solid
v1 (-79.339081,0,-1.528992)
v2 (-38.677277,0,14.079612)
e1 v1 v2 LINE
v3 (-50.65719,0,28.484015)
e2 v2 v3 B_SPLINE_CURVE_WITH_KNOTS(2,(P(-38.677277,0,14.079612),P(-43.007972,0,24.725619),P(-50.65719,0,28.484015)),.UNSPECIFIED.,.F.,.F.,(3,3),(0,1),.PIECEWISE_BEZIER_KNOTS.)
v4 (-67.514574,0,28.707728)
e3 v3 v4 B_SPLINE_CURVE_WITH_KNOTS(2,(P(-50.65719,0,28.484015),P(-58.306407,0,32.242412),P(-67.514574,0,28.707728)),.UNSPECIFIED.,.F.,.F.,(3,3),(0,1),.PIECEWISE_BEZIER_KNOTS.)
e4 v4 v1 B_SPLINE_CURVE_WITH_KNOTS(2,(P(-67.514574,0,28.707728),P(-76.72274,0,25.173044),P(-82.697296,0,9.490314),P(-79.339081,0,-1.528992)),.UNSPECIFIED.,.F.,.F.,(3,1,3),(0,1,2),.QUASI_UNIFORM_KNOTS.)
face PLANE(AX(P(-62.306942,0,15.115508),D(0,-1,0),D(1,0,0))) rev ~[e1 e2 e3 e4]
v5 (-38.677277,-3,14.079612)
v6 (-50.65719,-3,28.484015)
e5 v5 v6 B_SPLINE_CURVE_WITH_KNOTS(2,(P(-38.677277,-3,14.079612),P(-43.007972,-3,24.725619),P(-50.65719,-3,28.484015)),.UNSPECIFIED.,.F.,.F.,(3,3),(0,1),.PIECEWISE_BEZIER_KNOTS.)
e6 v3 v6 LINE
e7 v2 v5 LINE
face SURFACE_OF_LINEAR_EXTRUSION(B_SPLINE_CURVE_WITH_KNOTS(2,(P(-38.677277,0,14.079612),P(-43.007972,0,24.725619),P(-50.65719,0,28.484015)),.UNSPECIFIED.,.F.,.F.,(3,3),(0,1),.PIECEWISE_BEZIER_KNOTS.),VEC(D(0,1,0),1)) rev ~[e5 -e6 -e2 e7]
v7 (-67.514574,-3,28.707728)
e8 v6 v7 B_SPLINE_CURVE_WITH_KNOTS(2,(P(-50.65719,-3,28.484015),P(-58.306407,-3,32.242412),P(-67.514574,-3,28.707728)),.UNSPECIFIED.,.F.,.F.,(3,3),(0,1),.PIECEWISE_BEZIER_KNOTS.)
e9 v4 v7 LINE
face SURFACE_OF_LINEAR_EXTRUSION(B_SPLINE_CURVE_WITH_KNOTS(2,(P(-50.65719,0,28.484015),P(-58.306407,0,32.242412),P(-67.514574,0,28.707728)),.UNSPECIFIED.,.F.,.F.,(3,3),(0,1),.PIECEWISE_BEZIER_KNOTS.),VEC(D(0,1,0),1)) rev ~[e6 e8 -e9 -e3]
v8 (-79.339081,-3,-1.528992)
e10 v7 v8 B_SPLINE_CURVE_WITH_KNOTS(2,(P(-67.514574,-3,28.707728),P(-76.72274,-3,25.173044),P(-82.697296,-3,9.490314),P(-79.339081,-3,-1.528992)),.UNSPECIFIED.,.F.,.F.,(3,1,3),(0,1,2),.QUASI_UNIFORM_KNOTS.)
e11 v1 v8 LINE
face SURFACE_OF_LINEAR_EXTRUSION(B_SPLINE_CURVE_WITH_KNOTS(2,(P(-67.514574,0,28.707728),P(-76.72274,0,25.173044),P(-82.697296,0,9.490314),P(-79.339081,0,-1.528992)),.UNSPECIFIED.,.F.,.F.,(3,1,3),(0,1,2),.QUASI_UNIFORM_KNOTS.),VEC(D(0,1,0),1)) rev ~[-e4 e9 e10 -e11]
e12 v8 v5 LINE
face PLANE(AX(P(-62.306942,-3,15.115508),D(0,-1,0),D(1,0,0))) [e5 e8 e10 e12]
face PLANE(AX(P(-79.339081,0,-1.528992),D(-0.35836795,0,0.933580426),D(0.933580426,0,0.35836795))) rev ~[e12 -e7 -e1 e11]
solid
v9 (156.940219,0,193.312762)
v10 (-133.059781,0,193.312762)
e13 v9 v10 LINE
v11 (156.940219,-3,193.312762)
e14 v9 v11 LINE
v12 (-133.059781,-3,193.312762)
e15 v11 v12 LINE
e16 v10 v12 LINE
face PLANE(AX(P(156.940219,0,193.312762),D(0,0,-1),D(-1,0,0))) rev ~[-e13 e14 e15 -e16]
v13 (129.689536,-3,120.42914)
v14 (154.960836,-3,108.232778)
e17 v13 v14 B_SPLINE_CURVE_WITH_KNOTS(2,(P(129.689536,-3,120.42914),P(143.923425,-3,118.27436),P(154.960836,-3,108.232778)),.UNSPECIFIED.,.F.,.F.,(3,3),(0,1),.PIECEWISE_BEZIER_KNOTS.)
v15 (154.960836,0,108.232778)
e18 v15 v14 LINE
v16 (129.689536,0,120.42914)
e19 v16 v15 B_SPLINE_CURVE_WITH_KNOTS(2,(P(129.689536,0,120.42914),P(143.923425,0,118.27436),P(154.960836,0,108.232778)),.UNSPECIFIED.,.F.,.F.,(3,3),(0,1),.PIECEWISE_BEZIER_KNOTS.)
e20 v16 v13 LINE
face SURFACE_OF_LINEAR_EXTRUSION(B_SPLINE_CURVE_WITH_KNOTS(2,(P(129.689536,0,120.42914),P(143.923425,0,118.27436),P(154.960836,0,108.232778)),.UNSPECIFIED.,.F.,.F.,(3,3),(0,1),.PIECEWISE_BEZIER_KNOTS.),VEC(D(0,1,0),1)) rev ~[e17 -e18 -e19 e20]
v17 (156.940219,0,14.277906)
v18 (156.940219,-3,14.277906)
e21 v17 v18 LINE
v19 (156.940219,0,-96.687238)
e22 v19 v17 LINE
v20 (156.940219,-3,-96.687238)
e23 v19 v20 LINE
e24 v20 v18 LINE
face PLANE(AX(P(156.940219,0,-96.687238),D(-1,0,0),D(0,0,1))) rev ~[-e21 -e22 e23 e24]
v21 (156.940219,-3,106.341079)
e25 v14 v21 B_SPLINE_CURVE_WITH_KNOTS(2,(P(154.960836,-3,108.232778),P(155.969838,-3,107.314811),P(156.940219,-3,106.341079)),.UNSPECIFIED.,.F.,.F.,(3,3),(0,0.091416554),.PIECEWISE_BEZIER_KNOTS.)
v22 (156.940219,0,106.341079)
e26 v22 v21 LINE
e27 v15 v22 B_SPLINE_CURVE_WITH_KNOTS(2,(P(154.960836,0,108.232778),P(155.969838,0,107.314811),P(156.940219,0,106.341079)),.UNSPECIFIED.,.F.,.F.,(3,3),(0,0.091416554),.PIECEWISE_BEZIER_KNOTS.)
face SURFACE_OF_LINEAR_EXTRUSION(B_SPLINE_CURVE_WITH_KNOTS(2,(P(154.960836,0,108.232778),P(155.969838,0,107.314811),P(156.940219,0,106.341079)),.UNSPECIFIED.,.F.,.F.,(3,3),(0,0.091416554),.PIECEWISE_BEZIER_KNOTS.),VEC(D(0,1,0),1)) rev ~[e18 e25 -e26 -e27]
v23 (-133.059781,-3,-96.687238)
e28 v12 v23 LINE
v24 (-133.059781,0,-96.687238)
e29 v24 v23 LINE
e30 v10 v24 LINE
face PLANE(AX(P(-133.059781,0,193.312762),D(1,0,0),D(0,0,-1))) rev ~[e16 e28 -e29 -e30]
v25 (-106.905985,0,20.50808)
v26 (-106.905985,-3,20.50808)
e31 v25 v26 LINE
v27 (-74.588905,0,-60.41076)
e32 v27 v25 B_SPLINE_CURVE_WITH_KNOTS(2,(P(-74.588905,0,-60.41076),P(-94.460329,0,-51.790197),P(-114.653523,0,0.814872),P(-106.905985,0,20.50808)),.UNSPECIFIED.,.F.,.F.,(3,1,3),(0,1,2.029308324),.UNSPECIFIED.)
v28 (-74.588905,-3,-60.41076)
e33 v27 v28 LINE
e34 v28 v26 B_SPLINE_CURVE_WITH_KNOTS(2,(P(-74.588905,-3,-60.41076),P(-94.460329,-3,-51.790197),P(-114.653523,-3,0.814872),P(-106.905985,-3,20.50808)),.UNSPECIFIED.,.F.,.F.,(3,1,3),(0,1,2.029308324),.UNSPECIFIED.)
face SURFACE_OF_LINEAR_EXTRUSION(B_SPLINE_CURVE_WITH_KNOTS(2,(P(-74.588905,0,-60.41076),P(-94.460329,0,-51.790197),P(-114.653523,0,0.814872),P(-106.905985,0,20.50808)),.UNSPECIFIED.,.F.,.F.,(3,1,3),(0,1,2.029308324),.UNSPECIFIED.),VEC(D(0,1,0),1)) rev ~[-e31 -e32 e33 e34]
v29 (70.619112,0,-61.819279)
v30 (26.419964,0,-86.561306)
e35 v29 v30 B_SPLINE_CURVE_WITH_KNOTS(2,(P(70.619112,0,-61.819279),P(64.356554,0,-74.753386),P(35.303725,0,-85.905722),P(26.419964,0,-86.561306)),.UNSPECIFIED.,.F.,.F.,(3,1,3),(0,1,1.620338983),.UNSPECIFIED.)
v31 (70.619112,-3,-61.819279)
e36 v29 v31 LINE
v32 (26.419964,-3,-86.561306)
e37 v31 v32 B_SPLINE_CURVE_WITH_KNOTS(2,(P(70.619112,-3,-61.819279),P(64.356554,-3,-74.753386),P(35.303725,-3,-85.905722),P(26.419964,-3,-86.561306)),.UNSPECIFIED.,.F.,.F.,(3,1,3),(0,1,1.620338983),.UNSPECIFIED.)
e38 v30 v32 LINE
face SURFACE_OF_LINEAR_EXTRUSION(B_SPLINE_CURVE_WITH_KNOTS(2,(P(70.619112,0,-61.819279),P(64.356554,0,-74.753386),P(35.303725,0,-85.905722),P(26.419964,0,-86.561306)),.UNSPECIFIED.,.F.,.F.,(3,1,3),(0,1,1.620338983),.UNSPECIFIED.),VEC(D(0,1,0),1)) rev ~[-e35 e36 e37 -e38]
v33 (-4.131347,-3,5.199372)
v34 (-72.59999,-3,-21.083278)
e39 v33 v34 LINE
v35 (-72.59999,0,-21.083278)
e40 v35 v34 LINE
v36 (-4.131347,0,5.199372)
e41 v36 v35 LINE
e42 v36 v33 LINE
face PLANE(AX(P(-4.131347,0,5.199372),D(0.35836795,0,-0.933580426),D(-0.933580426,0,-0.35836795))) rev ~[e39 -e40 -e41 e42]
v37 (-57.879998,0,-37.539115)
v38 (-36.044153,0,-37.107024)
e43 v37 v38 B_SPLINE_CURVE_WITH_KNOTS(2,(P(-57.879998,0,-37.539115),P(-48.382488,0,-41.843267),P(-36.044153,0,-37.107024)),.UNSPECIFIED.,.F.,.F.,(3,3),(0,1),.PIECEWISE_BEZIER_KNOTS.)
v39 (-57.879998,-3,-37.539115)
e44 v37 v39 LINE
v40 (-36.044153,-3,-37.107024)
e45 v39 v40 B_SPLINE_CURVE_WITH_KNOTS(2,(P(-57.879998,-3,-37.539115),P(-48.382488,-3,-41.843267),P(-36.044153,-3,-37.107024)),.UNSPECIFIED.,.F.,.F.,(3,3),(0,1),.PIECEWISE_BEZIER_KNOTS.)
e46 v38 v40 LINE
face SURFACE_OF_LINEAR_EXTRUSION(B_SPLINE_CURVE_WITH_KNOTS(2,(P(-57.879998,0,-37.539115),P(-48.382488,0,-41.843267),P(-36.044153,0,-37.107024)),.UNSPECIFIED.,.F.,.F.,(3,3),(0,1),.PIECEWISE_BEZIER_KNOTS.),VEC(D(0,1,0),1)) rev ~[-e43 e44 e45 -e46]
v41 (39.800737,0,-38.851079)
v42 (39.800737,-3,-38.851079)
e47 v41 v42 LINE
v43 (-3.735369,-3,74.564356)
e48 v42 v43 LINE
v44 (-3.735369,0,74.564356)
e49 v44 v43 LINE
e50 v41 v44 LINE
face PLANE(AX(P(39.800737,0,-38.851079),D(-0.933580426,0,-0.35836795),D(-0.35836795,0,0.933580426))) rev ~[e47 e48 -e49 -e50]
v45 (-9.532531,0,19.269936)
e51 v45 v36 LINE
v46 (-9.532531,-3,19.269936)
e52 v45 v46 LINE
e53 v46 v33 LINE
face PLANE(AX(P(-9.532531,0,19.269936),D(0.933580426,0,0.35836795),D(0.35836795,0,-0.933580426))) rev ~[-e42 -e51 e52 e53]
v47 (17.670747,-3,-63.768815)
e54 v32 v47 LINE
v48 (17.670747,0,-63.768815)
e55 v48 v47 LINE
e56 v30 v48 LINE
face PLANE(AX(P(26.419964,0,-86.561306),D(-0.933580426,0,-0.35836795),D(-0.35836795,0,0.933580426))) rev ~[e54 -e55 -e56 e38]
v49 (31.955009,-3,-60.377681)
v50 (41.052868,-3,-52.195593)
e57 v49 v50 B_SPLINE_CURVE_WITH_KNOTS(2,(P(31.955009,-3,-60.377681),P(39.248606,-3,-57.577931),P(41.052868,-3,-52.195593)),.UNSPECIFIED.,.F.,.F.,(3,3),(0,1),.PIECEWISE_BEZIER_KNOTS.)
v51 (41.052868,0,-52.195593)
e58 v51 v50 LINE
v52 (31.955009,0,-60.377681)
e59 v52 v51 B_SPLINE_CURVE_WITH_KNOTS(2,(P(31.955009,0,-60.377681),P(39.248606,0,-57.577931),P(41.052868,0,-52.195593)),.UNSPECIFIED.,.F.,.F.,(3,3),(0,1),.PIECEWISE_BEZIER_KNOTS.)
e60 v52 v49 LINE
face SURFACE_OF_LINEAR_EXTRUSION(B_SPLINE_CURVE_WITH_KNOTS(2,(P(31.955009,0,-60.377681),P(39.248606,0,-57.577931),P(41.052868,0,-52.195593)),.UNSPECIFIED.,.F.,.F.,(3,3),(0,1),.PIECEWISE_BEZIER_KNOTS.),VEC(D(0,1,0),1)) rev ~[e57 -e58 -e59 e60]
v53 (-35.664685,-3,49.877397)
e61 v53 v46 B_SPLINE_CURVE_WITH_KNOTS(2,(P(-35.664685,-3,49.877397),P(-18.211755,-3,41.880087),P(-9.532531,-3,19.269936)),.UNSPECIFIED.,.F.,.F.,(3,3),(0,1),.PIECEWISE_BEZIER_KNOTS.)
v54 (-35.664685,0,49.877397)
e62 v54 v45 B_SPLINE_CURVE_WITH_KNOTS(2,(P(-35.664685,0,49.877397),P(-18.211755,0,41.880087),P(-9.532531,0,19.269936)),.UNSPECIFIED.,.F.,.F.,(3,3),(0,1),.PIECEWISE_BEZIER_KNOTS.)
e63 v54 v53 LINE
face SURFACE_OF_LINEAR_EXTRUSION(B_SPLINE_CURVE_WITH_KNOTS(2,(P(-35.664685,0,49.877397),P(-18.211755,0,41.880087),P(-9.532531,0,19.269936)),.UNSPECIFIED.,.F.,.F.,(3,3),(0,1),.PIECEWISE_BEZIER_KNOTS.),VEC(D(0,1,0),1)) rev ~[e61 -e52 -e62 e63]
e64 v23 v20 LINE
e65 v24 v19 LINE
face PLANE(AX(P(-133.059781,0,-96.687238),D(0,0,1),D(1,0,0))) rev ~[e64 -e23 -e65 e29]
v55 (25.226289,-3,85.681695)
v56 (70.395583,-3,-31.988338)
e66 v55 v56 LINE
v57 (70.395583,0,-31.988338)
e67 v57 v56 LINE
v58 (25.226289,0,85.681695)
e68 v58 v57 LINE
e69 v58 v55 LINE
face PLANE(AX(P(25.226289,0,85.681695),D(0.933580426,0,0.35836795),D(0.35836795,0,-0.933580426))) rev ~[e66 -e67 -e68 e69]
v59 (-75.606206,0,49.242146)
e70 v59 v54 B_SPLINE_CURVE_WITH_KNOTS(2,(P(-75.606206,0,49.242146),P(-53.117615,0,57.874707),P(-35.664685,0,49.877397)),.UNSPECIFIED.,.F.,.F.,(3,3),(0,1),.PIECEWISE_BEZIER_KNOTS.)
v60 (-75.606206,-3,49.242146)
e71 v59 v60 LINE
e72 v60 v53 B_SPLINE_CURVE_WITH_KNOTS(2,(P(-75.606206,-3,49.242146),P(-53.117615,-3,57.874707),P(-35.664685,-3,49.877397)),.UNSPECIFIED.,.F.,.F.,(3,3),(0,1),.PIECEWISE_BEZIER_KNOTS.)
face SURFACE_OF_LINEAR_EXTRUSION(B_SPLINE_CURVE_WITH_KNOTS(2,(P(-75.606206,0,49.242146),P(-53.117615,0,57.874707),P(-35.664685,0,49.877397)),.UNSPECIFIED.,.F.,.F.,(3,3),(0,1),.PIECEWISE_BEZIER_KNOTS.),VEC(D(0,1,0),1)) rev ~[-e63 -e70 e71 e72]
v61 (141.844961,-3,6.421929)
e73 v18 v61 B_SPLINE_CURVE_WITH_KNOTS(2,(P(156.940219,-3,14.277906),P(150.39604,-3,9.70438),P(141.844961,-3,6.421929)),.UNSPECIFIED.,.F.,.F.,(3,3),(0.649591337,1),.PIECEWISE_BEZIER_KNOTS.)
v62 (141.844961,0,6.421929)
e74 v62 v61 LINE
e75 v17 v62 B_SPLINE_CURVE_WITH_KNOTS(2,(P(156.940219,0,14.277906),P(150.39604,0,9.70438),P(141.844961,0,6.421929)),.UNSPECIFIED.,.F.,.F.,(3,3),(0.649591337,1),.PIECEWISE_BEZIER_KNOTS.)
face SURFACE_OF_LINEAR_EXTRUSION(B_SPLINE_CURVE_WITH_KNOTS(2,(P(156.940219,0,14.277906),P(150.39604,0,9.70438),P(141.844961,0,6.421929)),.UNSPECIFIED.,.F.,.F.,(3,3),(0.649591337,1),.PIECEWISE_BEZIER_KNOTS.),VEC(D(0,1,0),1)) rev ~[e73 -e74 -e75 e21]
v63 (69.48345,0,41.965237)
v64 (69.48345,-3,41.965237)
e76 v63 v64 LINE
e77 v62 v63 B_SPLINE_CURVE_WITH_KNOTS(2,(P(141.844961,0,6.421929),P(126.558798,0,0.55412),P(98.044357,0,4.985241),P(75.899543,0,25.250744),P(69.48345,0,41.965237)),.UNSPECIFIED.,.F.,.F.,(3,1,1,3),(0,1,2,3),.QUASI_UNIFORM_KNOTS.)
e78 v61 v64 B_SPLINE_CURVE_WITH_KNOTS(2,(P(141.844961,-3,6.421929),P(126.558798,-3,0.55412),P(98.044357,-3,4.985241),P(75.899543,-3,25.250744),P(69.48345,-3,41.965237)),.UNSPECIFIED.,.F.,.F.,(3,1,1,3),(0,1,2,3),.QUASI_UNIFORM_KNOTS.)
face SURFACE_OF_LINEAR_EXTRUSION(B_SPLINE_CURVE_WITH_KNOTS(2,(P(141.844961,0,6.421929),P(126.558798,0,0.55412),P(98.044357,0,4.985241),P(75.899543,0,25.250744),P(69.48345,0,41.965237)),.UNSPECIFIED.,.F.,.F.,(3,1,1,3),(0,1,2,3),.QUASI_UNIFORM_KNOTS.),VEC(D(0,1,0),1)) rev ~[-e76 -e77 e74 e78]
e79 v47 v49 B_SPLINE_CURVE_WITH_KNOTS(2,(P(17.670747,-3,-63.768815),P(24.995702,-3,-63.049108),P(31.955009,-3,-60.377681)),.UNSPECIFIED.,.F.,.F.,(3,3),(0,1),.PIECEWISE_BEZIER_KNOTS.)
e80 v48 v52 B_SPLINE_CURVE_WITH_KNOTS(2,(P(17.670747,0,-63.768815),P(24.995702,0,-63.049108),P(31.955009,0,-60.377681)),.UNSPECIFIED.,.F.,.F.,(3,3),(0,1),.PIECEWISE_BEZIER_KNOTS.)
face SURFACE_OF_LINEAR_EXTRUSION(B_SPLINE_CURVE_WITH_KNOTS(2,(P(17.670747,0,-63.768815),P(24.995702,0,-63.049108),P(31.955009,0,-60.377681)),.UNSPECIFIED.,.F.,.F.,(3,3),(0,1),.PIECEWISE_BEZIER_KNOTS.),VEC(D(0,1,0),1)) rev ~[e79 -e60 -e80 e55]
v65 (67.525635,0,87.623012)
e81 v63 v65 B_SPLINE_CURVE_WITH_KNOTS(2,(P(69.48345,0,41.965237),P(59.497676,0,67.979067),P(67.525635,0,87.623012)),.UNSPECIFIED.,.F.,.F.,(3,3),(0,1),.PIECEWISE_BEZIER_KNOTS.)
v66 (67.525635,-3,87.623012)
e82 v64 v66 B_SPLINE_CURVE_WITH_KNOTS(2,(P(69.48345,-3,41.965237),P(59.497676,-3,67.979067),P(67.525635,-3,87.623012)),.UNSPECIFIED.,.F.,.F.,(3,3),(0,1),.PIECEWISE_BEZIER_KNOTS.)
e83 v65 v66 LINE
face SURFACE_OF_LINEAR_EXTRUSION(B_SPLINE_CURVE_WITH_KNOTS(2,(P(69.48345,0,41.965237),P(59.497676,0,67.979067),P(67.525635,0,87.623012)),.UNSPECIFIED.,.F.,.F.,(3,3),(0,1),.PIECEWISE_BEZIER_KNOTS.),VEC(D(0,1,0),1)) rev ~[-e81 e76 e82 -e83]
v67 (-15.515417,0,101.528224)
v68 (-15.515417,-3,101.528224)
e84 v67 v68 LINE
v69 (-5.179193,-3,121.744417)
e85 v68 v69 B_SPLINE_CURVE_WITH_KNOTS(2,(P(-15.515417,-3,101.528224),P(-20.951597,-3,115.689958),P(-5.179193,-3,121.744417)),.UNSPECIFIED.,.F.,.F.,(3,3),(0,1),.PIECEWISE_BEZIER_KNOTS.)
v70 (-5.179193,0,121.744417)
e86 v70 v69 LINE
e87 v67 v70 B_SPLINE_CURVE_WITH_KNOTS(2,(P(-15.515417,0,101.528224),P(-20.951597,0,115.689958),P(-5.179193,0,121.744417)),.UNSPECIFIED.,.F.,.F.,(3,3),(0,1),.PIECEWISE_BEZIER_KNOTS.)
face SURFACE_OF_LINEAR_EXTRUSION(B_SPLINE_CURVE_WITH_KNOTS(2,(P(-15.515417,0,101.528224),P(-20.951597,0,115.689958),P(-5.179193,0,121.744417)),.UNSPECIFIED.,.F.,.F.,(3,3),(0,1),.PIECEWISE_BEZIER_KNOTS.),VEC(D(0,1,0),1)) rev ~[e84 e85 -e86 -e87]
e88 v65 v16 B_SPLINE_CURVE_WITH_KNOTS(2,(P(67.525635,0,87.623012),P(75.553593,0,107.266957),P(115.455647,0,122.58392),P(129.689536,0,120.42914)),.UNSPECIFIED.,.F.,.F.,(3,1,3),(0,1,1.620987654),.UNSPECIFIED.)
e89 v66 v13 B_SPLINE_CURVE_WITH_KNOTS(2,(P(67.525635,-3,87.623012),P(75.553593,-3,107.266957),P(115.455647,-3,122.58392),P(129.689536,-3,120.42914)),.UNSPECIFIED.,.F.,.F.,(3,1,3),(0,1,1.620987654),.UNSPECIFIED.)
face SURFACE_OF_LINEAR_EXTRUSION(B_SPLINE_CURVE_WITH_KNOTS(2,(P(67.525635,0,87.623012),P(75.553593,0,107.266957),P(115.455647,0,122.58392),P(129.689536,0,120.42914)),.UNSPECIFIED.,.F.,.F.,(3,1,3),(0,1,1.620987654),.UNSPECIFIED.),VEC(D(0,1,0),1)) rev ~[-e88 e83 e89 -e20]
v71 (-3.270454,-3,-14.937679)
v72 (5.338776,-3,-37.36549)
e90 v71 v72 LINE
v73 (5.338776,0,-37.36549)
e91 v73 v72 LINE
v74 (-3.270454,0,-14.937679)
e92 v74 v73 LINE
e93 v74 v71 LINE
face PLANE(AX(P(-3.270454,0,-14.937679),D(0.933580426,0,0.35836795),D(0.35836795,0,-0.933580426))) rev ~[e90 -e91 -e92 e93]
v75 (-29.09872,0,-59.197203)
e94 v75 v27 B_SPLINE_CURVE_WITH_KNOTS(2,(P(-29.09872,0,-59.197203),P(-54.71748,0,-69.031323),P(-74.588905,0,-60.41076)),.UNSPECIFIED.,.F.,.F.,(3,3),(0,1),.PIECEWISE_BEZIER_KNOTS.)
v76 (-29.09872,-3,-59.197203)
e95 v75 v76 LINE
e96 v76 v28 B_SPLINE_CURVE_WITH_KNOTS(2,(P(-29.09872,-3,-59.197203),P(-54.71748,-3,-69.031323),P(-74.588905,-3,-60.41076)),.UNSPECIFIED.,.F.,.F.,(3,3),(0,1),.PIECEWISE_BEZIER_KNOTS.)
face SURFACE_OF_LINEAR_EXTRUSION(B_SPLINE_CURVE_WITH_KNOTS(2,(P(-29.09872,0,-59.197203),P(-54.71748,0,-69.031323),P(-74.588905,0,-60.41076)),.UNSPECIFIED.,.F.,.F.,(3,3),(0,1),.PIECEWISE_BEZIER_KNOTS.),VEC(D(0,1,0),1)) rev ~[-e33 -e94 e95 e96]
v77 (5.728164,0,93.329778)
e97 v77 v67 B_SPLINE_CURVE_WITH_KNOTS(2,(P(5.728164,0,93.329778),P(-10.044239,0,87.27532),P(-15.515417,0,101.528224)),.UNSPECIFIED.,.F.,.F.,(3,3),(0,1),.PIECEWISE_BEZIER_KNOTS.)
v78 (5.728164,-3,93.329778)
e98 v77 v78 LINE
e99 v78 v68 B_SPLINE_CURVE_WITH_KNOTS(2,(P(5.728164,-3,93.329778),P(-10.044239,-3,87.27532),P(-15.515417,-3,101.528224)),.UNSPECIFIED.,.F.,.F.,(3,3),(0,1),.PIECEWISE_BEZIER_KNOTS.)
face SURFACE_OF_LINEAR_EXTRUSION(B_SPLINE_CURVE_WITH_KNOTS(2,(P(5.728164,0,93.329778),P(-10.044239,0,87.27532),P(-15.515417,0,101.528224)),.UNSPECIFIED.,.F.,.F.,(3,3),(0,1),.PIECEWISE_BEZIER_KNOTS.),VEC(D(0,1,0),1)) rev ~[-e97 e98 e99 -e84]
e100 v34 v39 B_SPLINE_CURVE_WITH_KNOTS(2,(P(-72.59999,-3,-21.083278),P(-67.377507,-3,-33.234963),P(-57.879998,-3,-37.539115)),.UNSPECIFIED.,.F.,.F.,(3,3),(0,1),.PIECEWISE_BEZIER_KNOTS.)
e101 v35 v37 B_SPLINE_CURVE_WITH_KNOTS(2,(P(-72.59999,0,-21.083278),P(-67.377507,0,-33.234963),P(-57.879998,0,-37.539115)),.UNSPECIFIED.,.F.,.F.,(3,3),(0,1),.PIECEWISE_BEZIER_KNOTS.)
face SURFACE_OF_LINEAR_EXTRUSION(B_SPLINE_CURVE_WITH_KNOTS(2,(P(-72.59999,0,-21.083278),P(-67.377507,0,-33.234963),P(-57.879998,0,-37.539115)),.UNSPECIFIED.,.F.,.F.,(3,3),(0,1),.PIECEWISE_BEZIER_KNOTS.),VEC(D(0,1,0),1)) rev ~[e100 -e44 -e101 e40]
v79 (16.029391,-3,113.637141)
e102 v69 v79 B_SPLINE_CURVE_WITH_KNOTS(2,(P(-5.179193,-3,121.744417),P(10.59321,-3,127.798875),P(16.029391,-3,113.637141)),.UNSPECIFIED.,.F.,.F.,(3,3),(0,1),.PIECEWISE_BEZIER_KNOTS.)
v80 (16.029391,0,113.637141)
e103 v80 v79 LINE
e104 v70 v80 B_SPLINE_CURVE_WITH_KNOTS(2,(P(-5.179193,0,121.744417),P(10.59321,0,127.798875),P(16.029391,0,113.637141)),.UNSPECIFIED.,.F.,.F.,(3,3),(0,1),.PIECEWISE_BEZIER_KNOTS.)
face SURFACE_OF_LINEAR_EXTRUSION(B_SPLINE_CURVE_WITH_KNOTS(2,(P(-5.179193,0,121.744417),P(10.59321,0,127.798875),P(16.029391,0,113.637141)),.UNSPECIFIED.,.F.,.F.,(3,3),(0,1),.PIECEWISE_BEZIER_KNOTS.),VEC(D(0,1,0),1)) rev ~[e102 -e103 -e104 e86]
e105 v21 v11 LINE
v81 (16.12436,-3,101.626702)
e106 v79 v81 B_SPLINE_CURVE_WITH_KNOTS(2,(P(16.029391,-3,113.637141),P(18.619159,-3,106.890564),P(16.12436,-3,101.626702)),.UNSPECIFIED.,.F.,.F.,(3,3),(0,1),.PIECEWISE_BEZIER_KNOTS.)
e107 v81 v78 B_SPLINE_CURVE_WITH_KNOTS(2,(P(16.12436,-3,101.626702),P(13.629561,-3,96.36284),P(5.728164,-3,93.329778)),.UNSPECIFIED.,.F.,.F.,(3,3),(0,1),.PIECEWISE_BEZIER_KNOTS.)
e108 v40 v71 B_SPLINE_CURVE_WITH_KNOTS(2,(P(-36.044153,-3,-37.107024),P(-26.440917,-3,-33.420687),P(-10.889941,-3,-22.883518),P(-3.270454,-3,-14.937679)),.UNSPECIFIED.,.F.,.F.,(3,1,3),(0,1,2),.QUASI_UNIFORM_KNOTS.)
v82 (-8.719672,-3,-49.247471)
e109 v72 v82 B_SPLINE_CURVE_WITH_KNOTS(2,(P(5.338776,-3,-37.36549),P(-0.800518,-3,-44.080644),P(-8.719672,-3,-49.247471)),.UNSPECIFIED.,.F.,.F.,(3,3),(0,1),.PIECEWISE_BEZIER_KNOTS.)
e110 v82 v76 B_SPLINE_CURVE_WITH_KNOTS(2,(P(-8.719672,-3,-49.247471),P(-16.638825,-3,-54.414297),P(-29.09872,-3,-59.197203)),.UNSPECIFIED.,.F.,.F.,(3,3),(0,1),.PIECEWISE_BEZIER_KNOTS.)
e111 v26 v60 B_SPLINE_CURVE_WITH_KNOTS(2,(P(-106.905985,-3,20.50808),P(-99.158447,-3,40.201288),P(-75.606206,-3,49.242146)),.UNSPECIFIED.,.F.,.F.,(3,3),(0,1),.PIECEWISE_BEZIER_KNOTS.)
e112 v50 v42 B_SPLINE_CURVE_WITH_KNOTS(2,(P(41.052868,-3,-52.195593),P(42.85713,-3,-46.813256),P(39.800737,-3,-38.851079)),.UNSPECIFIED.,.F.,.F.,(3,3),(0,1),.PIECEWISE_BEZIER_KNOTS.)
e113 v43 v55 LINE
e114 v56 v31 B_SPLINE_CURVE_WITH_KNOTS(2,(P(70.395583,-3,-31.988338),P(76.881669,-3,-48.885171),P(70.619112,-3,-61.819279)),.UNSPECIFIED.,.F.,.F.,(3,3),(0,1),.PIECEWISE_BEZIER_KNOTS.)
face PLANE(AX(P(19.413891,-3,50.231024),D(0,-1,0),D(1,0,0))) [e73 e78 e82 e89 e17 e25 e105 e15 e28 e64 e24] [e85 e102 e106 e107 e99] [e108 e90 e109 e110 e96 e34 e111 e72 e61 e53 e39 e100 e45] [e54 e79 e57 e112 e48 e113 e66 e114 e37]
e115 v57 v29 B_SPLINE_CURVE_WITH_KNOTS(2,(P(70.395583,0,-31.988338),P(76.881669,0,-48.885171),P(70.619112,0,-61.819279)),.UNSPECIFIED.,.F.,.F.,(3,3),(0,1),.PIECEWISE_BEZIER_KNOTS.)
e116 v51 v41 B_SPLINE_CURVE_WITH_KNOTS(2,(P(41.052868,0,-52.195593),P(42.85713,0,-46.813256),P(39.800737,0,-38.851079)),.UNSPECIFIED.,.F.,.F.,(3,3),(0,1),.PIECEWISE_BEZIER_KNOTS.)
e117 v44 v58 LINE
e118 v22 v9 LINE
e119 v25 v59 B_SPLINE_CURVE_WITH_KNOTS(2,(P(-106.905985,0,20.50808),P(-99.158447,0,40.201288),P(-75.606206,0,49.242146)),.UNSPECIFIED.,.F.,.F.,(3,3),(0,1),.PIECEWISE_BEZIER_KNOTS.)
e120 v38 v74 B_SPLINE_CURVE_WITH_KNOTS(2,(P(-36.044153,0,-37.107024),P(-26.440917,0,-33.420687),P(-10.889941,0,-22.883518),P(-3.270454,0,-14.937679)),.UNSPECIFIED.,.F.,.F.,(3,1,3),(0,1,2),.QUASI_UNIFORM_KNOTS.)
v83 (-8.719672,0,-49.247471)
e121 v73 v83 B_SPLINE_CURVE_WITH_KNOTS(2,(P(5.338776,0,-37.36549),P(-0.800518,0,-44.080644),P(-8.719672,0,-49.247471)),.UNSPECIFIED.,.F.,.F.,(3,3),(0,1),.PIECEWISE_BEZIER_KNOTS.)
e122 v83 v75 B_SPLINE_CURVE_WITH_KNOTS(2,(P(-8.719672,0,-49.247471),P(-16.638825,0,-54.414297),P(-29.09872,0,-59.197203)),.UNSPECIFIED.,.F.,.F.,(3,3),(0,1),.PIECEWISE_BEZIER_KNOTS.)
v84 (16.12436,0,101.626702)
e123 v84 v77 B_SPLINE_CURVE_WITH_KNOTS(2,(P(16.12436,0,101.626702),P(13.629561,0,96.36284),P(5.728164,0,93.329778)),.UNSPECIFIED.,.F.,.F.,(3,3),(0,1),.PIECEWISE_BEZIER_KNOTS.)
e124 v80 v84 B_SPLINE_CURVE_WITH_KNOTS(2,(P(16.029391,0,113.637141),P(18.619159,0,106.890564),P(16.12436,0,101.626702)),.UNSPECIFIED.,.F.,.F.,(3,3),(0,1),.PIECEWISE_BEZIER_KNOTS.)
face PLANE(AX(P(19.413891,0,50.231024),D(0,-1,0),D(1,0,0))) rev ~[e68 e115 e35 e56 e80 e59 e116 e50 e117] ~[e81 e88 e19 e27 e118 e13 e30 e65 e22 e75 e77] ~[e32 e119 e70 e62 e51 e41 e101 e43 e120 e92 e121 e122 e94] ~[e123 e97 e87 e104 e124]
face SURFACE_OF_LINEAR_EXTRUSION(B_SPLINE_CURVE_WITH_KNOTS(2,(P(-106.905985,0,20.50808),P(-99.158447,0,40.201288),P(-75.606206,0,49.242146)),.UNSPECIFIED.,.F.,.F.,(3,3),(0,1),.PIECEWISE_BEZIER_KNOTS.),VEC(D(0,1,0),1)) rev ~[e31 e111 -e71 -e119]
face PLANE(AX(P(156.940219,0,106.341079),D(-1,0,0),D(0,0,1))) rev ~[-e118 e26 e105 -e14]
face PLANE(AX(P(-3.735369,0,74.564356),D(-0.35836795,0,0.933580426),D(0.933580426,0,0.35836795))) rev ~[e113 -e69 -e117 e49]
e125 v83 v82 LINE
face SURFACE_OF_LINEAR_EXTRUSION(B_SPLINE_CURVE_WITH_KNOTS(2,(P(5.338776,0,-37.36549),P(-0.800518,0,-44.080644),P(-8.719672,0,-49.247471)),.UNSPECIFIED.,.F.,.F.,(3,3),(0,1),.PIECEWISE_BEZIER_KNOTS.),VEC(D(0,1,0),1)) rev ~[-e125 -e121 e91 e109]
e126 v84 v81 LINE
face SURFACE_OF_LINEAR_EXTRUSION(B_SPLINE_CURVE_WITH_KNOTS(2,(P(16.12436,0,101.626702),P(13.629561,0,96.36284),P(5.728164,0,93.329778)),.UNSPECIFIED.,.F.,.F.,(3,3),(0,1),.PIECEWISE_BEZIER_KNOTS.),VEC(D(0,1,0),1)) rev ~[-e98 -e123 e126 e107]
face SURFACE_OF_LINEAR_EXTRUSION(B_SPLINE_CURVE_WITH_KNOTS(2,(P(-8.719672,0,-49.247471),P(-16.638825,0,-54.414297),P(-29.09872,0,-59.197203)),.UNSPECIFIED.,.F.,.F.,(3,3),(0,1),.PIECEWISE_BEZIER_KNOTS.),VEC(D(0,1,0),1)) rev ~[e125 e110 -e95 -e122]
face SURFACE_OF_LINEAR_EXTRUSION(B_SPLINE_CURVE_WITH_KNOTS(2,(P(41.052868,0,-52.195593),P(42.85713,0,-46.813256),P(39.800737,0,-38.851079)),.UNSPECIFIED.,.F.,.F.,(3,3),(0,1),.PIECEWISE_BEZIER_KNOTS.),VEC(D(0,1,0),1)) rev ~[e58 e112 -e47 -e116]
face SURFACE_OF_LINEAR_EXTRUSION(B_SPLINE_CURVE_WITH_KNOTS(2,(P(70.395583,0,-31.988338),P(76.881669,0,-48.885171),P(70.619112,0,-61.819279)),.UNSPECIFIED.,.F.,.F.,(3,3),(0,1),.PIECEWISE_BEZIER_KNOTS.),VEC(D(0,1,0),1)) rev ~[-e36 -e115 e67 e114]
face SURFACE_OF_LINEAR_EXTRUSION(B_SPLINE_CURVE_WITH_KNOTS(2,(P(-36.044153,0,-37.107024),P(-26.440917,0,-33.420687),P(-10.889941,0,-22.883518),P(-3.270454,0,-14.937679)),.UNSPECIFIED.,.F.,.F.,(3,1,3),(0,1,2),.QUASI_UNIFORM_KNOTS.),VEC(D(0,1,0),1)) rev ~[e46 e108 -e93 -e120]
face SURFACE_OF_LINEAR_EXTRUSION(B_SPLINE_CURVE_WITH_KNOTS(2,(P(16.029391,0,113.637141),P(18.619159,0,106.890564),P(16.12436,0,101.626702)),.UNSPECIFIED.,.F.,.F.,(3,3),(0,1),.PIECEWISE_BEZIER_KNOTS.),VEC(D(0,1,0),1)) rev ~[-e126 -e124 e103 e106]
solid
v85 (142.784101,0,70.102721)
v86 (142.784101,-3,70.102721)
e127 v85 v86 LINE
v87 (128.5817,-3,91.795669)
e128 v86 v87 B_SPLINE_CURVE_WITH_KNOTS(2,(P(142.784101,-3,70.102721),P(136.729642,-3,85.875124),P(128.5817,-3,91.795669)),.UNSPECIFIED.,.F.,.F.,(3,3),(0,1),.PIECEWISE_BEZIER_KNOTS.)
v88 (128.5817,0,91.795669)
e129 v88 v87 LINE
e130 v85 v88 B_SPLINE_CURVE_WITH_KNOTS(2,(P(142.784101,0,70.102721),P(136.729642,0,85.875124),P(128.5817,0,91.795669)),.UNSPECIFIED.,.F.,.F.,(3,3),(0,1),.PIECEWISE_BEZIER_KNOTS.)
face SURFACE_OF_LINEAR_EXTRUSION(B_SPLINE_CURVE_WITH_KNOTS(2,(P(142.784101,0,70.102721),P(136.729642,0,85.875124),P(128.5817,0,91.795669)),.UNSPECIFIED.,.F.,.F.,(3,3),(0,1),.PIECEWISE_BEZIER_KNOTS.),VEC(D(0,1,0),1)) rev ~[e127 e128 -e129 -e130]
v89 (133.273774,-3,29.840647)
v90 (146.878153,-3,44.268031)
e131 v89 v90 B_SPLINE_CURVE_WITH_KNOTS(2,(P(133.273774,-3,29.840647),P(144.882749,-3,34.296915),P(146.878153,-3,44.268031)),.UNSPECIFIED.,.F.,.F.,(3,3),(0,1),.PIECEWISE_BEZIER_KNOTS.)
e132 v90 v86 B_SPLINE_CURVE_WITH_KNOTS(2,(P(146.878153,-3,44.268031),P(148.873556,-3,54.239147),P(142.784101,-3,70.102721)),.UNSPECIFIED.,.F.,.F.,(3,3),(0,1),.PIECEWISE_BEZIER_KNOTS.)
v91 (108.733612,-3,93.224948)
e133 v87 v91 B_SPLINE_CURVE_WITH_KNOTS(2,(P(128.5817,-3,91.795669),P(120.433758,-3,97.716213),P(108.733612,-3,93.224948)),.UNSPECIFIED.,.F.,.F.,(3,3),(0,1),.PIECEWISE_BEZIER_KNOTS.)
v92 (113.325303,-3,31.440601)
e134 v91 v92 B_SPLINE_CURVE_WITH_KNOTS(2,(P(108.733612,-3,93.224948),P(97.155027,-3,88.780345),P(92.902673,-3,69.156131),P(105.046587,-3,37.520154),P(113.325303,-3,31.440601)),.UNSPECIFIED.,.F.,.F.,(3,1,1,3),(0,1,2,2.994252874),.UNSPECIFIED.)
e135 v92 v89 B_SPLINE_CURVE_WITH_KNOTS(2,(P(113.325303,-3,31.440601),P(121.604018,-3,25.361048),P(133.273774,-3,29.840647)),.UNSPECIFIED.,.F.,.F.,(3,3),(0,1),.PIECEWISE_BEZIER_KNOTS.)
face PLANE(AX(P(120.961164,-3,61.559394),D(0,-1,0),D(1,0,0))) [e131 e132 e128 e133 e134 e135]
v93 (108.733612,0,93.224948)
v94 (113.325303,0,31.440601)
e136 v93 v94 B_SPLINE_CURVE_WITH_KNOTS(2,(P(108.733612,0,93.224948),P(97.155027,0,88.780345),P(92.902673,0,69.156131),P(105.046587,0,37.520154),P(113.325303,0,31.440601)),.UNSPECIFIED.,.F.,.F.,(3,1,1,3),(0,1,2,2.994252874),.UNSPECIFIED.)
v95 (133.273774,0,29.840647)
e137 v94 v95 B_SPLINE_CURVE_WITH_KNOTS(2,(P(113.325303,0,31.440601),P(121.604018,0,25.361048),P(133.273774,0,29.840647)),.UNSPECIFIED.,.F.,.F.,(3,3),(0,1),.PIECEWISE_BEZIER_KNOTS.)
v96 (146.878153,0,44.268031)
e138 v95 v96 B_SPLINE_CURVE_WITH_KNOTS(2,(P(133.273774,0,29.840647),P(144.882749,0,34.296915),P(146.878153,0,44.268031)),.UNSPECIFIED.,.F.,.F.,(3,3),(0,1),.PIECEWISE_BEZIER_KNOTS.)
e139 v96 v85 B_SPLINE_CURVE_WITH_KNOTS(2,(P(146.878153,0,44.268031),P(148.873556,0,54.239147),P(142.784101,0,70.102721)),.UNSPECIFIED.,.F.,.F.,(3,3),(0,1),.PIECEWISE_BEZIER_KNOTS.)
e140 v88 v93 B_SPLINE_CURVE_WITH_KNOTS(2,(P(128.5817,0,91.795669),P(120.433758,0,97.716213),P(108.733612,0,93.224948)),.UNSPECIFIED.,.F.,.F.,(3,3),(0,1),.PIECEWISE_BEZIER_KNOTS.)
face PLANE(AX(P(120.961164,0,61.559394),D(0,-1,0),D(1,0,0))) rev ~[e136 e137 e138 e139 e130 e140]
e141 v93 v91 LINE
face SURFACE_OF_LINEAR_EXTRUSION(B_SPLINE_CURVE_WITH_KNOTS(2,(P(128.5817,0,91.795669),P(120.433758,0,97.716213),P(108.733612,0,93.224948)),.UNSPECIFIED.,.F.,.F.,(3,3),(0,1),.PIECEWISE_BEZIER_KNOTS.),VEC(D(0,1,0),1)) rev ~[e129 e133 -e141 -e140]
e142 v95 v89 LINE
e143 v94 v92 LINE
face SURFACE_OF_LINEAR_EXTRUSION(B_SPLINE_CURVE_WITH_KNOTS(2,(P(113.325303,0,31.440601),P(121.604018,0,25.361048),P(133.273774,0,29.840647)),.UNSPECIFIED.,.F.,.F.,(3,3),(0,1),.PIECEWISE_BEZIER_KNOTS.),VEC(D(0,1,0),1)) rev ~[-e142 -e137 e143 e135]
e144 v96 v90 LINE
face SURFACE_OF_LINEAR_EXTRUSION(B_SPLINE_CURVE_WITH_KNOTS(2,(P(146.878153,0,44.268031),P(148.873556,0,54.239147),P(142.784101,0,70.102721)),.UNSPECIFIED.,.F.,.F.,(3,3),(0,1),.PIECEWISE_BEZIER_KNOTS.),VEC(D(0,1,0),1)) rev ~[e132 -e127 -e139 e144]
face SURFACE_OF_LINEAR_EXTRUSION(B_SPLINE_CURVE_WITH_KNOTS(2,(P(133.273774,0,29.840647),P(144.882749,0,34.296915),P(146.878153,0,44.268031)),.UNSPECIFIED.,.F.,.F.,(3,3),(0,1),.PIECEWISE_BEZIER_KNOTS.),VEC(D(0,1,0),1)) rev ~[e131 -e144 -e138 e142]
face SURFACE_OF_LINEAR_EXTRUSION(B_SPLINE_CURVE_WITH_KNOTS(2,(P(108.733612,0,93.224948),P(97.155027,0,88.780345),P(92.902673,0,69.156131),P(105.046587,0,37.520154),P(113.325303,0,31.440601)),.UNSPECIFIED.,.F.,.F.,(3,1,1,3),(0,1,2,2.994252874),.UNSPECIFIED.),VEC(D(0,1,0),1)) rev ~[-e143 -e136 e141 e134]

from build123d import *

# Parameters (mm, degrees)
F1_DEPTH = 3


with BuildPart() as f1:
    # F0 (on Front) → F1 (new body)
    with BuildSketch(Plane.XZ):
        with BuildLine():
            Line((156.9402193278, 193.3127623796), (-133.0597806722, 193.3127623796))
            Line((-133.0597806722, 193.3127623796), (-133.0597806722, -96.6872376204))
            Line((-133.0597806722, -96.6872376204), (156.9402193278, -96.6872376204))
            Line((156.9402193278, -96.6872376204), (156.9402193278, 14.2779064416))
            add(Edge.make_bspline(
                [(156.9402193278, 14.2779064416), (150.3960401846, 9.7043804493), (141.8449614262, 6.4219288531)],
                knots=[0.6495913367, 0.6495913367, 0.6495913367, 1, 1, 1], degree=2))
            add(Edge.make_bspline(
                [(141.8449614262, 6.4219288531), (126.5587975418, 0.5541203043), (112.3015772663, 2.7696804424)],
                knots=[0, 0, 0, 1, 1, 1], degree=2))
            add(Edge.make_bspline(
                [(112.3015772663, 2.7696804424), (98.0443569908, 4.9852405805), (86.9719498604, 15.1179921535)],
                knots=[0, 0, 0, 1, 1, 1], degree=2))
            add(Edge.make_bspline(
                [(86.9719498604, 15.1179921535), (75.89954273, 25.2507437265), (69.4834498834, 41.9652370395)],
                knots=[0, 0, 0, 1, 1, 1], degree=2))
            add(Edge.make_bspline(
                [(69.4834498834, 41.9652370395), (59.4976762893, 67.979066632), (67.5256347657, 87.623011686)],
                knots=[0, 0, 0, 1, 1, 1], degree=2))
            add(Edge.make_bspline(
                [(67.5256347657, 87.623011686), (75.5535932422, 107.2669567399), (100.169483394, 116.7161116596)],
                knots=[0, 0, 0, 1, 1, 1], degree=2))
            add(Edge.make_bspline(
                [(100.169483394, 116.7161116596), (115.4556472784, 122.5839202085), (129.6895363071, 120.429140046)],
                knots=[0, 0, 0, 1, 1, 1], degree=2))
            add(Edge.make_bspline(
                [(129.6895363071, 120.429140046), (143.9234253359, 118.2743598836), (154.9608355962, 108.2327782741)],
                knots=[0, 0, 0, 1, 1, 1], degree=2))
            add(Edge.make_bspline(
                [(154.9608355962, 108.2327782741), (155.9698376052, 107.3148114886), (156.9402193278, 106.3410792713)],
                knots=[0, 0, 0, 0.0914165538, 0.0914165538, 0.0914165538], degree=2))
            Line((156.9402193278, 106.3410792713), (156.9402193278, 193.3127623796))
        make_face()
        with BuildLine():
            add(Edge.make_bspline(
                [(-8.7196716461, -49.2474706648), (-16.6388251683, -54.4142969567), (-29.0987201834, -59.1972025333)],
                knots=[0, 0, 0, 1, 1, 1], degree=2))
            add(Edge.make_bspline(
                [(-29.0987201834, -59.1972025333), (-54.717479934, -69.0313230238), (-74.5889046434, -60.4107597844)],
                knots=[0, 0, 0, 1, 1, 1], degree=2))
            add(Edge.make_bspline(
                [(-74.5889046434, -60.4107597844), (-94.4603293529, -51.790196545), (-104.4111060769, -25.8675369161)],
                knots=[0, 0, 0, 1, 1, 1], degree=2))
            add(Edge.make_bspline(
                [(-104.4111060769, -25.8675369161), (-114.6535233849, 0.814872409), (-106.9059851223, 20.508080233)],
                knots=[0, 0, 0, 1, 1, 1], degree=2))
            add(Edge.make_bspline(
                [(-106.9059851223, 20.508080233), (-99.1584468598, 40.2012880571), (-75.6062062824, 49.2421461593)],
                knots=[0, 0, 0, 1, 1, 1], degree=2))
            add(Edge.make_bspline(
                [(-75.6062062824, 49.2421461593), (-53.1176152796, 57.8747074439), (-35.6646850497, 49.8773972036)],
                knots=[0, 0, 0, 1, 1, 1], degree=2))
            add(Edge.make_bspline(
                [(-35.6646850497, 49.8773972036), (-18.2117548197, 41.8800869633), (-9.5325310417, 19.2699360091)],
                knots=[0, 0, 0, 1, 1, 1], degree=2))
            Line((-9.5325310417, 19.2699360091), (-4.1313474271, 5.1993716384))
            Line((-4.1313474271, 5.1993716384), (-72.5999900345, -21.0832777863))
            add(Edge.make_bspline(
                [(-72.5999900345, -21.0832777863), (-67.3775071458, -33.2349628763), (-57.8799977559, -37.5391148487)],
                knots=[0, 0, 0, 1, 1, 1], degree=2))
            add(Edge.make_bspline(
                [(-57.8799977559, -37.5391148487), (-48.382488366, -41.8432668212), (-36.0441533023, -37.107023738)],
                knots=[0, 0, 0, 1, 1, 1], degree=2))
            add(Edge.make_bspline(
                [(-36.0441533023, -37.107023738), (-26.4409171443, -33.420686757), (-18.6654288907, -28.1521023899)],
                knots=[0, 0, 0, 1, 1, 1], degree=2))
            add(Edge.make_bspline(
                [(-18.6654288907, -28.1521023899), (-10.8899406371, -22.8835180228), (-3.270454121, -14.9376790261)],
                knots=[0, 0, 0, 1, 1, 1], degree=2))
            Line((-3.270454121, -14.9376790261), (5.3387759169, -37.3654900533))
            add(Edge.make_bspline(
                [(5.3387759169, -37.3654900533), (-0.8005181238, -44.0806443729), (-8.7196716461, -49.2474706648)],
                knots=[0, 0, 0, 1, 1, 1], degree=2))
        make_face(mode=Mode.SUBTRACT)
        with BuildLine():
            add(Edge.make_bspline(
                [(70.6191115949, -61.8192785463), (64.3565537639, -74.7533855956), (46.4264609373, -81.6361033766)],
                knots=[0, 0, 0, 1, 1, 1], degree=2))
            add(Edge.make_bspline(
                [(46.4264609373, -81.6361033766), (35.3037253872, -85.9057215255), (26.4199643274, -86.5613058057)],
                knots=[0, 0, 0, 1, 1, 1], degree=2))
            Line((26.4199643274, -86.5613058057), (17.6707468092, -63.7688149244))
            add(Edge.make_bspline(
                [(17.6707468092, -63.7688149244), (24.9957015602, -63.049108303), (31.9550087759, -60.3776805541)],
                knots=[0, 0, 0, 1, 1, 1], degree=2))
            add(Edge.make_bspline(
                [(31.9550087759, -60.3776805541), (39.248605858, -57.5779309483), (41.0528681668, -52.1955933908)],
                knots=[0, 0, 0, 1, 1, 1], degree=2))
            add(Edge.make_bspline(
                [(41.0528681668, -52.1955933908), (42.8571304756, -46.8132558334), (39.8007371559, -38.8510790189)],
                knots=[0, 0, 0, 1, 1, 1], degree=2))
            Line((39.8007371559, -38.8510790189), (-3.7353692146, 74.5643556063))
            Line((-3.7353692146, 74.5643556063), (25.2262891985, 85.6816946661))
            Line((25.2262891985, 85.6816946661), (70.3955828391, -31.988338257))
            add(Edge.make_bspline(
                [(70.3955828391, -31.988338257), (76.881669426, -48.885171497), (70.6191115949, -61.8192785463)],
                knots=[0, 0, 0, 1, 1, 1], degree=2))
        make_face(mode=Mode.SUBTRACT)
        with BuildLine():
            add(Edge.make_bspline(
                [(5.7281644365, 93.3297782946), (-10.0442392533, 87.275319772), (-15.515416608, 101.5282240697)],
                knots=[0, 0, 0, 1, 1, 1], degree=2))
            add(Edge.make_bspline(
                [(-15.515416608, 101.5282240697), (-20.9515970927, 115.689958404), (-5.1791934028, 121.7444169266)],
                knots=[0, 0, 0, 1, 1, 1], degree=2))
            add(Edge.make_bspline(
                [(-5.1791934028, 121.7444169266), (10.593210287, 127.7988754491), (16.0293907717, 113.6371411149)],
                knots=[0, 0, 0, 1, 1, 1], degree=2))
            add(Edge.make_bspline(
                [(16.0293907717, 113.6371411149), (18.619159157, 106.890563814), (16.1243602162, 101.6267020908)],
                knots=[0, 0, 0, 1, 1, 1], degree=2))
            add(Edge.make_bspline(
                [(16.1243602162, 101.6267020908), (13.6295612754, 96.3628403675), (5.7281644365, 93.3297782946)],
                knots=[0, 0, 0, 1, 1, 1], degree=2))
        make_face(mode=Mode.SUBTRACT)
    extrude(amount=F1_DEPTH)


with BuildPart() as f1b:
    # F0 (on Front) → F1, piece 2 (new body)
    with BuildSketch(Plane.XZ):
        with BuildLine():
            add(Edge.make_bspline(
                [(-50.6571898824, 28.4840153121), (-58.3064074029, 32.2424120201), (-67.5145737189, 28.7077281427)],
                knots=[0, 0, 0, 1, 1, 1], degree=2))
            add(Edge.make_bspline(
                [(-67.5145737189, 28.7077281427), (-76.722740035, 25.1730442654), (-79.7100182591, 17.3316793823)],
                knots=[0, 0, 0, 1, 1, 1], degree=2))
            add(Edge.make_bspline(
                [(-79.7100182591, 17.3316793823), (-82.6972964832, 9.4903144992), (-79.339081134, -1.5289917929)],
                knots=[0, 0, 0, 1, 1, 1], degree=2))
            Line((-79.339081134, -1.5289917929), (-38.6772774018, 14.0796122596))
            add(Edge.make_bspline(
                [(-38.6772774018, 14.0796122596), (-43.0079723619, 24.7256186042), (-50.6571898824, 28.4840153121)],
                knots=[0, 0, 0, 1, 1, 1], degree=2))
        make_face()
    extrude(amount=F1_DEPTH)


with BuildPart() as f1c:
    # F0 (on Front) → F1, piece 3 (new body)
    with BuildSketch(Plane.XZ):
        with BuildLine():
            add(Edge.make_bspline(
                [(95.028849804, 78.9682381837), (92.902672685, 69.1561309731), (98.9921280777, 53.2925573197)],
                knots=[0, 0, 0, 1, 1, 1], degree=2))
            add(Edge.make_bspline(
                [(98.9921280777, 53.2925573197), (105.0465866003, 37.5201536299), (113.3253025287, 31.4406006404)],
                knots=[0, 0, 0, 1, 1, 1], degree=2))
            add(Edge.make_bspline(
                [(113.3253025287, 31.4406006404), (121.6040184572, 25.3610476509), (133.2737737884, 29.8406470202)],
                knots=[0, 0, 0, 1, 1, 1], degree=2))
            add(Edge.make_bspline(
                [(133.2737737884, 29.8406470202), (144.8827491439, 34.2969151428), (146.8781525471, 44.2680310337)],
                knots=[0, 0, 0, 1, 1, 1], degree=2))
            add(Edge.make_bspline(
                [(146.8781525471, 44.2680310337), (148.8735559502, 54.2391469246), (142.7841005576, 70.102720578)],
                knots=[0, 0, 0, 1, 1, 1], degree=2))
            add(Edge.make_bspline(
                [(142.7841005576, 70.102720578), (136.729642035, 85.8751242679), (128.5816998224, 91.795668577)],
                knots=[0, 0, 0, 1, 1, 1], degree=2))
            add(Edge.make_bspline(
                [(128.5816998224, 91.795668577), (120.4337576097, 97.7162128862), (108.7336122907, 93.2249478935)],
                knots=[0, 0, 0, 1, 1, 1], degree=2))
            add(Edge.make_bspline(
                [(108.7336122907, 93.2249478935), (97.155026923, 88.7803453943), (95.028849804, 78.9682381837)],
                knots=[0, 0, 0, 1, 1, 1], degree=2))
        make_face()
    extrude(amount=F1_DEPTH)


solid = Compound([f1.part, f1b.part, f1c.part])
